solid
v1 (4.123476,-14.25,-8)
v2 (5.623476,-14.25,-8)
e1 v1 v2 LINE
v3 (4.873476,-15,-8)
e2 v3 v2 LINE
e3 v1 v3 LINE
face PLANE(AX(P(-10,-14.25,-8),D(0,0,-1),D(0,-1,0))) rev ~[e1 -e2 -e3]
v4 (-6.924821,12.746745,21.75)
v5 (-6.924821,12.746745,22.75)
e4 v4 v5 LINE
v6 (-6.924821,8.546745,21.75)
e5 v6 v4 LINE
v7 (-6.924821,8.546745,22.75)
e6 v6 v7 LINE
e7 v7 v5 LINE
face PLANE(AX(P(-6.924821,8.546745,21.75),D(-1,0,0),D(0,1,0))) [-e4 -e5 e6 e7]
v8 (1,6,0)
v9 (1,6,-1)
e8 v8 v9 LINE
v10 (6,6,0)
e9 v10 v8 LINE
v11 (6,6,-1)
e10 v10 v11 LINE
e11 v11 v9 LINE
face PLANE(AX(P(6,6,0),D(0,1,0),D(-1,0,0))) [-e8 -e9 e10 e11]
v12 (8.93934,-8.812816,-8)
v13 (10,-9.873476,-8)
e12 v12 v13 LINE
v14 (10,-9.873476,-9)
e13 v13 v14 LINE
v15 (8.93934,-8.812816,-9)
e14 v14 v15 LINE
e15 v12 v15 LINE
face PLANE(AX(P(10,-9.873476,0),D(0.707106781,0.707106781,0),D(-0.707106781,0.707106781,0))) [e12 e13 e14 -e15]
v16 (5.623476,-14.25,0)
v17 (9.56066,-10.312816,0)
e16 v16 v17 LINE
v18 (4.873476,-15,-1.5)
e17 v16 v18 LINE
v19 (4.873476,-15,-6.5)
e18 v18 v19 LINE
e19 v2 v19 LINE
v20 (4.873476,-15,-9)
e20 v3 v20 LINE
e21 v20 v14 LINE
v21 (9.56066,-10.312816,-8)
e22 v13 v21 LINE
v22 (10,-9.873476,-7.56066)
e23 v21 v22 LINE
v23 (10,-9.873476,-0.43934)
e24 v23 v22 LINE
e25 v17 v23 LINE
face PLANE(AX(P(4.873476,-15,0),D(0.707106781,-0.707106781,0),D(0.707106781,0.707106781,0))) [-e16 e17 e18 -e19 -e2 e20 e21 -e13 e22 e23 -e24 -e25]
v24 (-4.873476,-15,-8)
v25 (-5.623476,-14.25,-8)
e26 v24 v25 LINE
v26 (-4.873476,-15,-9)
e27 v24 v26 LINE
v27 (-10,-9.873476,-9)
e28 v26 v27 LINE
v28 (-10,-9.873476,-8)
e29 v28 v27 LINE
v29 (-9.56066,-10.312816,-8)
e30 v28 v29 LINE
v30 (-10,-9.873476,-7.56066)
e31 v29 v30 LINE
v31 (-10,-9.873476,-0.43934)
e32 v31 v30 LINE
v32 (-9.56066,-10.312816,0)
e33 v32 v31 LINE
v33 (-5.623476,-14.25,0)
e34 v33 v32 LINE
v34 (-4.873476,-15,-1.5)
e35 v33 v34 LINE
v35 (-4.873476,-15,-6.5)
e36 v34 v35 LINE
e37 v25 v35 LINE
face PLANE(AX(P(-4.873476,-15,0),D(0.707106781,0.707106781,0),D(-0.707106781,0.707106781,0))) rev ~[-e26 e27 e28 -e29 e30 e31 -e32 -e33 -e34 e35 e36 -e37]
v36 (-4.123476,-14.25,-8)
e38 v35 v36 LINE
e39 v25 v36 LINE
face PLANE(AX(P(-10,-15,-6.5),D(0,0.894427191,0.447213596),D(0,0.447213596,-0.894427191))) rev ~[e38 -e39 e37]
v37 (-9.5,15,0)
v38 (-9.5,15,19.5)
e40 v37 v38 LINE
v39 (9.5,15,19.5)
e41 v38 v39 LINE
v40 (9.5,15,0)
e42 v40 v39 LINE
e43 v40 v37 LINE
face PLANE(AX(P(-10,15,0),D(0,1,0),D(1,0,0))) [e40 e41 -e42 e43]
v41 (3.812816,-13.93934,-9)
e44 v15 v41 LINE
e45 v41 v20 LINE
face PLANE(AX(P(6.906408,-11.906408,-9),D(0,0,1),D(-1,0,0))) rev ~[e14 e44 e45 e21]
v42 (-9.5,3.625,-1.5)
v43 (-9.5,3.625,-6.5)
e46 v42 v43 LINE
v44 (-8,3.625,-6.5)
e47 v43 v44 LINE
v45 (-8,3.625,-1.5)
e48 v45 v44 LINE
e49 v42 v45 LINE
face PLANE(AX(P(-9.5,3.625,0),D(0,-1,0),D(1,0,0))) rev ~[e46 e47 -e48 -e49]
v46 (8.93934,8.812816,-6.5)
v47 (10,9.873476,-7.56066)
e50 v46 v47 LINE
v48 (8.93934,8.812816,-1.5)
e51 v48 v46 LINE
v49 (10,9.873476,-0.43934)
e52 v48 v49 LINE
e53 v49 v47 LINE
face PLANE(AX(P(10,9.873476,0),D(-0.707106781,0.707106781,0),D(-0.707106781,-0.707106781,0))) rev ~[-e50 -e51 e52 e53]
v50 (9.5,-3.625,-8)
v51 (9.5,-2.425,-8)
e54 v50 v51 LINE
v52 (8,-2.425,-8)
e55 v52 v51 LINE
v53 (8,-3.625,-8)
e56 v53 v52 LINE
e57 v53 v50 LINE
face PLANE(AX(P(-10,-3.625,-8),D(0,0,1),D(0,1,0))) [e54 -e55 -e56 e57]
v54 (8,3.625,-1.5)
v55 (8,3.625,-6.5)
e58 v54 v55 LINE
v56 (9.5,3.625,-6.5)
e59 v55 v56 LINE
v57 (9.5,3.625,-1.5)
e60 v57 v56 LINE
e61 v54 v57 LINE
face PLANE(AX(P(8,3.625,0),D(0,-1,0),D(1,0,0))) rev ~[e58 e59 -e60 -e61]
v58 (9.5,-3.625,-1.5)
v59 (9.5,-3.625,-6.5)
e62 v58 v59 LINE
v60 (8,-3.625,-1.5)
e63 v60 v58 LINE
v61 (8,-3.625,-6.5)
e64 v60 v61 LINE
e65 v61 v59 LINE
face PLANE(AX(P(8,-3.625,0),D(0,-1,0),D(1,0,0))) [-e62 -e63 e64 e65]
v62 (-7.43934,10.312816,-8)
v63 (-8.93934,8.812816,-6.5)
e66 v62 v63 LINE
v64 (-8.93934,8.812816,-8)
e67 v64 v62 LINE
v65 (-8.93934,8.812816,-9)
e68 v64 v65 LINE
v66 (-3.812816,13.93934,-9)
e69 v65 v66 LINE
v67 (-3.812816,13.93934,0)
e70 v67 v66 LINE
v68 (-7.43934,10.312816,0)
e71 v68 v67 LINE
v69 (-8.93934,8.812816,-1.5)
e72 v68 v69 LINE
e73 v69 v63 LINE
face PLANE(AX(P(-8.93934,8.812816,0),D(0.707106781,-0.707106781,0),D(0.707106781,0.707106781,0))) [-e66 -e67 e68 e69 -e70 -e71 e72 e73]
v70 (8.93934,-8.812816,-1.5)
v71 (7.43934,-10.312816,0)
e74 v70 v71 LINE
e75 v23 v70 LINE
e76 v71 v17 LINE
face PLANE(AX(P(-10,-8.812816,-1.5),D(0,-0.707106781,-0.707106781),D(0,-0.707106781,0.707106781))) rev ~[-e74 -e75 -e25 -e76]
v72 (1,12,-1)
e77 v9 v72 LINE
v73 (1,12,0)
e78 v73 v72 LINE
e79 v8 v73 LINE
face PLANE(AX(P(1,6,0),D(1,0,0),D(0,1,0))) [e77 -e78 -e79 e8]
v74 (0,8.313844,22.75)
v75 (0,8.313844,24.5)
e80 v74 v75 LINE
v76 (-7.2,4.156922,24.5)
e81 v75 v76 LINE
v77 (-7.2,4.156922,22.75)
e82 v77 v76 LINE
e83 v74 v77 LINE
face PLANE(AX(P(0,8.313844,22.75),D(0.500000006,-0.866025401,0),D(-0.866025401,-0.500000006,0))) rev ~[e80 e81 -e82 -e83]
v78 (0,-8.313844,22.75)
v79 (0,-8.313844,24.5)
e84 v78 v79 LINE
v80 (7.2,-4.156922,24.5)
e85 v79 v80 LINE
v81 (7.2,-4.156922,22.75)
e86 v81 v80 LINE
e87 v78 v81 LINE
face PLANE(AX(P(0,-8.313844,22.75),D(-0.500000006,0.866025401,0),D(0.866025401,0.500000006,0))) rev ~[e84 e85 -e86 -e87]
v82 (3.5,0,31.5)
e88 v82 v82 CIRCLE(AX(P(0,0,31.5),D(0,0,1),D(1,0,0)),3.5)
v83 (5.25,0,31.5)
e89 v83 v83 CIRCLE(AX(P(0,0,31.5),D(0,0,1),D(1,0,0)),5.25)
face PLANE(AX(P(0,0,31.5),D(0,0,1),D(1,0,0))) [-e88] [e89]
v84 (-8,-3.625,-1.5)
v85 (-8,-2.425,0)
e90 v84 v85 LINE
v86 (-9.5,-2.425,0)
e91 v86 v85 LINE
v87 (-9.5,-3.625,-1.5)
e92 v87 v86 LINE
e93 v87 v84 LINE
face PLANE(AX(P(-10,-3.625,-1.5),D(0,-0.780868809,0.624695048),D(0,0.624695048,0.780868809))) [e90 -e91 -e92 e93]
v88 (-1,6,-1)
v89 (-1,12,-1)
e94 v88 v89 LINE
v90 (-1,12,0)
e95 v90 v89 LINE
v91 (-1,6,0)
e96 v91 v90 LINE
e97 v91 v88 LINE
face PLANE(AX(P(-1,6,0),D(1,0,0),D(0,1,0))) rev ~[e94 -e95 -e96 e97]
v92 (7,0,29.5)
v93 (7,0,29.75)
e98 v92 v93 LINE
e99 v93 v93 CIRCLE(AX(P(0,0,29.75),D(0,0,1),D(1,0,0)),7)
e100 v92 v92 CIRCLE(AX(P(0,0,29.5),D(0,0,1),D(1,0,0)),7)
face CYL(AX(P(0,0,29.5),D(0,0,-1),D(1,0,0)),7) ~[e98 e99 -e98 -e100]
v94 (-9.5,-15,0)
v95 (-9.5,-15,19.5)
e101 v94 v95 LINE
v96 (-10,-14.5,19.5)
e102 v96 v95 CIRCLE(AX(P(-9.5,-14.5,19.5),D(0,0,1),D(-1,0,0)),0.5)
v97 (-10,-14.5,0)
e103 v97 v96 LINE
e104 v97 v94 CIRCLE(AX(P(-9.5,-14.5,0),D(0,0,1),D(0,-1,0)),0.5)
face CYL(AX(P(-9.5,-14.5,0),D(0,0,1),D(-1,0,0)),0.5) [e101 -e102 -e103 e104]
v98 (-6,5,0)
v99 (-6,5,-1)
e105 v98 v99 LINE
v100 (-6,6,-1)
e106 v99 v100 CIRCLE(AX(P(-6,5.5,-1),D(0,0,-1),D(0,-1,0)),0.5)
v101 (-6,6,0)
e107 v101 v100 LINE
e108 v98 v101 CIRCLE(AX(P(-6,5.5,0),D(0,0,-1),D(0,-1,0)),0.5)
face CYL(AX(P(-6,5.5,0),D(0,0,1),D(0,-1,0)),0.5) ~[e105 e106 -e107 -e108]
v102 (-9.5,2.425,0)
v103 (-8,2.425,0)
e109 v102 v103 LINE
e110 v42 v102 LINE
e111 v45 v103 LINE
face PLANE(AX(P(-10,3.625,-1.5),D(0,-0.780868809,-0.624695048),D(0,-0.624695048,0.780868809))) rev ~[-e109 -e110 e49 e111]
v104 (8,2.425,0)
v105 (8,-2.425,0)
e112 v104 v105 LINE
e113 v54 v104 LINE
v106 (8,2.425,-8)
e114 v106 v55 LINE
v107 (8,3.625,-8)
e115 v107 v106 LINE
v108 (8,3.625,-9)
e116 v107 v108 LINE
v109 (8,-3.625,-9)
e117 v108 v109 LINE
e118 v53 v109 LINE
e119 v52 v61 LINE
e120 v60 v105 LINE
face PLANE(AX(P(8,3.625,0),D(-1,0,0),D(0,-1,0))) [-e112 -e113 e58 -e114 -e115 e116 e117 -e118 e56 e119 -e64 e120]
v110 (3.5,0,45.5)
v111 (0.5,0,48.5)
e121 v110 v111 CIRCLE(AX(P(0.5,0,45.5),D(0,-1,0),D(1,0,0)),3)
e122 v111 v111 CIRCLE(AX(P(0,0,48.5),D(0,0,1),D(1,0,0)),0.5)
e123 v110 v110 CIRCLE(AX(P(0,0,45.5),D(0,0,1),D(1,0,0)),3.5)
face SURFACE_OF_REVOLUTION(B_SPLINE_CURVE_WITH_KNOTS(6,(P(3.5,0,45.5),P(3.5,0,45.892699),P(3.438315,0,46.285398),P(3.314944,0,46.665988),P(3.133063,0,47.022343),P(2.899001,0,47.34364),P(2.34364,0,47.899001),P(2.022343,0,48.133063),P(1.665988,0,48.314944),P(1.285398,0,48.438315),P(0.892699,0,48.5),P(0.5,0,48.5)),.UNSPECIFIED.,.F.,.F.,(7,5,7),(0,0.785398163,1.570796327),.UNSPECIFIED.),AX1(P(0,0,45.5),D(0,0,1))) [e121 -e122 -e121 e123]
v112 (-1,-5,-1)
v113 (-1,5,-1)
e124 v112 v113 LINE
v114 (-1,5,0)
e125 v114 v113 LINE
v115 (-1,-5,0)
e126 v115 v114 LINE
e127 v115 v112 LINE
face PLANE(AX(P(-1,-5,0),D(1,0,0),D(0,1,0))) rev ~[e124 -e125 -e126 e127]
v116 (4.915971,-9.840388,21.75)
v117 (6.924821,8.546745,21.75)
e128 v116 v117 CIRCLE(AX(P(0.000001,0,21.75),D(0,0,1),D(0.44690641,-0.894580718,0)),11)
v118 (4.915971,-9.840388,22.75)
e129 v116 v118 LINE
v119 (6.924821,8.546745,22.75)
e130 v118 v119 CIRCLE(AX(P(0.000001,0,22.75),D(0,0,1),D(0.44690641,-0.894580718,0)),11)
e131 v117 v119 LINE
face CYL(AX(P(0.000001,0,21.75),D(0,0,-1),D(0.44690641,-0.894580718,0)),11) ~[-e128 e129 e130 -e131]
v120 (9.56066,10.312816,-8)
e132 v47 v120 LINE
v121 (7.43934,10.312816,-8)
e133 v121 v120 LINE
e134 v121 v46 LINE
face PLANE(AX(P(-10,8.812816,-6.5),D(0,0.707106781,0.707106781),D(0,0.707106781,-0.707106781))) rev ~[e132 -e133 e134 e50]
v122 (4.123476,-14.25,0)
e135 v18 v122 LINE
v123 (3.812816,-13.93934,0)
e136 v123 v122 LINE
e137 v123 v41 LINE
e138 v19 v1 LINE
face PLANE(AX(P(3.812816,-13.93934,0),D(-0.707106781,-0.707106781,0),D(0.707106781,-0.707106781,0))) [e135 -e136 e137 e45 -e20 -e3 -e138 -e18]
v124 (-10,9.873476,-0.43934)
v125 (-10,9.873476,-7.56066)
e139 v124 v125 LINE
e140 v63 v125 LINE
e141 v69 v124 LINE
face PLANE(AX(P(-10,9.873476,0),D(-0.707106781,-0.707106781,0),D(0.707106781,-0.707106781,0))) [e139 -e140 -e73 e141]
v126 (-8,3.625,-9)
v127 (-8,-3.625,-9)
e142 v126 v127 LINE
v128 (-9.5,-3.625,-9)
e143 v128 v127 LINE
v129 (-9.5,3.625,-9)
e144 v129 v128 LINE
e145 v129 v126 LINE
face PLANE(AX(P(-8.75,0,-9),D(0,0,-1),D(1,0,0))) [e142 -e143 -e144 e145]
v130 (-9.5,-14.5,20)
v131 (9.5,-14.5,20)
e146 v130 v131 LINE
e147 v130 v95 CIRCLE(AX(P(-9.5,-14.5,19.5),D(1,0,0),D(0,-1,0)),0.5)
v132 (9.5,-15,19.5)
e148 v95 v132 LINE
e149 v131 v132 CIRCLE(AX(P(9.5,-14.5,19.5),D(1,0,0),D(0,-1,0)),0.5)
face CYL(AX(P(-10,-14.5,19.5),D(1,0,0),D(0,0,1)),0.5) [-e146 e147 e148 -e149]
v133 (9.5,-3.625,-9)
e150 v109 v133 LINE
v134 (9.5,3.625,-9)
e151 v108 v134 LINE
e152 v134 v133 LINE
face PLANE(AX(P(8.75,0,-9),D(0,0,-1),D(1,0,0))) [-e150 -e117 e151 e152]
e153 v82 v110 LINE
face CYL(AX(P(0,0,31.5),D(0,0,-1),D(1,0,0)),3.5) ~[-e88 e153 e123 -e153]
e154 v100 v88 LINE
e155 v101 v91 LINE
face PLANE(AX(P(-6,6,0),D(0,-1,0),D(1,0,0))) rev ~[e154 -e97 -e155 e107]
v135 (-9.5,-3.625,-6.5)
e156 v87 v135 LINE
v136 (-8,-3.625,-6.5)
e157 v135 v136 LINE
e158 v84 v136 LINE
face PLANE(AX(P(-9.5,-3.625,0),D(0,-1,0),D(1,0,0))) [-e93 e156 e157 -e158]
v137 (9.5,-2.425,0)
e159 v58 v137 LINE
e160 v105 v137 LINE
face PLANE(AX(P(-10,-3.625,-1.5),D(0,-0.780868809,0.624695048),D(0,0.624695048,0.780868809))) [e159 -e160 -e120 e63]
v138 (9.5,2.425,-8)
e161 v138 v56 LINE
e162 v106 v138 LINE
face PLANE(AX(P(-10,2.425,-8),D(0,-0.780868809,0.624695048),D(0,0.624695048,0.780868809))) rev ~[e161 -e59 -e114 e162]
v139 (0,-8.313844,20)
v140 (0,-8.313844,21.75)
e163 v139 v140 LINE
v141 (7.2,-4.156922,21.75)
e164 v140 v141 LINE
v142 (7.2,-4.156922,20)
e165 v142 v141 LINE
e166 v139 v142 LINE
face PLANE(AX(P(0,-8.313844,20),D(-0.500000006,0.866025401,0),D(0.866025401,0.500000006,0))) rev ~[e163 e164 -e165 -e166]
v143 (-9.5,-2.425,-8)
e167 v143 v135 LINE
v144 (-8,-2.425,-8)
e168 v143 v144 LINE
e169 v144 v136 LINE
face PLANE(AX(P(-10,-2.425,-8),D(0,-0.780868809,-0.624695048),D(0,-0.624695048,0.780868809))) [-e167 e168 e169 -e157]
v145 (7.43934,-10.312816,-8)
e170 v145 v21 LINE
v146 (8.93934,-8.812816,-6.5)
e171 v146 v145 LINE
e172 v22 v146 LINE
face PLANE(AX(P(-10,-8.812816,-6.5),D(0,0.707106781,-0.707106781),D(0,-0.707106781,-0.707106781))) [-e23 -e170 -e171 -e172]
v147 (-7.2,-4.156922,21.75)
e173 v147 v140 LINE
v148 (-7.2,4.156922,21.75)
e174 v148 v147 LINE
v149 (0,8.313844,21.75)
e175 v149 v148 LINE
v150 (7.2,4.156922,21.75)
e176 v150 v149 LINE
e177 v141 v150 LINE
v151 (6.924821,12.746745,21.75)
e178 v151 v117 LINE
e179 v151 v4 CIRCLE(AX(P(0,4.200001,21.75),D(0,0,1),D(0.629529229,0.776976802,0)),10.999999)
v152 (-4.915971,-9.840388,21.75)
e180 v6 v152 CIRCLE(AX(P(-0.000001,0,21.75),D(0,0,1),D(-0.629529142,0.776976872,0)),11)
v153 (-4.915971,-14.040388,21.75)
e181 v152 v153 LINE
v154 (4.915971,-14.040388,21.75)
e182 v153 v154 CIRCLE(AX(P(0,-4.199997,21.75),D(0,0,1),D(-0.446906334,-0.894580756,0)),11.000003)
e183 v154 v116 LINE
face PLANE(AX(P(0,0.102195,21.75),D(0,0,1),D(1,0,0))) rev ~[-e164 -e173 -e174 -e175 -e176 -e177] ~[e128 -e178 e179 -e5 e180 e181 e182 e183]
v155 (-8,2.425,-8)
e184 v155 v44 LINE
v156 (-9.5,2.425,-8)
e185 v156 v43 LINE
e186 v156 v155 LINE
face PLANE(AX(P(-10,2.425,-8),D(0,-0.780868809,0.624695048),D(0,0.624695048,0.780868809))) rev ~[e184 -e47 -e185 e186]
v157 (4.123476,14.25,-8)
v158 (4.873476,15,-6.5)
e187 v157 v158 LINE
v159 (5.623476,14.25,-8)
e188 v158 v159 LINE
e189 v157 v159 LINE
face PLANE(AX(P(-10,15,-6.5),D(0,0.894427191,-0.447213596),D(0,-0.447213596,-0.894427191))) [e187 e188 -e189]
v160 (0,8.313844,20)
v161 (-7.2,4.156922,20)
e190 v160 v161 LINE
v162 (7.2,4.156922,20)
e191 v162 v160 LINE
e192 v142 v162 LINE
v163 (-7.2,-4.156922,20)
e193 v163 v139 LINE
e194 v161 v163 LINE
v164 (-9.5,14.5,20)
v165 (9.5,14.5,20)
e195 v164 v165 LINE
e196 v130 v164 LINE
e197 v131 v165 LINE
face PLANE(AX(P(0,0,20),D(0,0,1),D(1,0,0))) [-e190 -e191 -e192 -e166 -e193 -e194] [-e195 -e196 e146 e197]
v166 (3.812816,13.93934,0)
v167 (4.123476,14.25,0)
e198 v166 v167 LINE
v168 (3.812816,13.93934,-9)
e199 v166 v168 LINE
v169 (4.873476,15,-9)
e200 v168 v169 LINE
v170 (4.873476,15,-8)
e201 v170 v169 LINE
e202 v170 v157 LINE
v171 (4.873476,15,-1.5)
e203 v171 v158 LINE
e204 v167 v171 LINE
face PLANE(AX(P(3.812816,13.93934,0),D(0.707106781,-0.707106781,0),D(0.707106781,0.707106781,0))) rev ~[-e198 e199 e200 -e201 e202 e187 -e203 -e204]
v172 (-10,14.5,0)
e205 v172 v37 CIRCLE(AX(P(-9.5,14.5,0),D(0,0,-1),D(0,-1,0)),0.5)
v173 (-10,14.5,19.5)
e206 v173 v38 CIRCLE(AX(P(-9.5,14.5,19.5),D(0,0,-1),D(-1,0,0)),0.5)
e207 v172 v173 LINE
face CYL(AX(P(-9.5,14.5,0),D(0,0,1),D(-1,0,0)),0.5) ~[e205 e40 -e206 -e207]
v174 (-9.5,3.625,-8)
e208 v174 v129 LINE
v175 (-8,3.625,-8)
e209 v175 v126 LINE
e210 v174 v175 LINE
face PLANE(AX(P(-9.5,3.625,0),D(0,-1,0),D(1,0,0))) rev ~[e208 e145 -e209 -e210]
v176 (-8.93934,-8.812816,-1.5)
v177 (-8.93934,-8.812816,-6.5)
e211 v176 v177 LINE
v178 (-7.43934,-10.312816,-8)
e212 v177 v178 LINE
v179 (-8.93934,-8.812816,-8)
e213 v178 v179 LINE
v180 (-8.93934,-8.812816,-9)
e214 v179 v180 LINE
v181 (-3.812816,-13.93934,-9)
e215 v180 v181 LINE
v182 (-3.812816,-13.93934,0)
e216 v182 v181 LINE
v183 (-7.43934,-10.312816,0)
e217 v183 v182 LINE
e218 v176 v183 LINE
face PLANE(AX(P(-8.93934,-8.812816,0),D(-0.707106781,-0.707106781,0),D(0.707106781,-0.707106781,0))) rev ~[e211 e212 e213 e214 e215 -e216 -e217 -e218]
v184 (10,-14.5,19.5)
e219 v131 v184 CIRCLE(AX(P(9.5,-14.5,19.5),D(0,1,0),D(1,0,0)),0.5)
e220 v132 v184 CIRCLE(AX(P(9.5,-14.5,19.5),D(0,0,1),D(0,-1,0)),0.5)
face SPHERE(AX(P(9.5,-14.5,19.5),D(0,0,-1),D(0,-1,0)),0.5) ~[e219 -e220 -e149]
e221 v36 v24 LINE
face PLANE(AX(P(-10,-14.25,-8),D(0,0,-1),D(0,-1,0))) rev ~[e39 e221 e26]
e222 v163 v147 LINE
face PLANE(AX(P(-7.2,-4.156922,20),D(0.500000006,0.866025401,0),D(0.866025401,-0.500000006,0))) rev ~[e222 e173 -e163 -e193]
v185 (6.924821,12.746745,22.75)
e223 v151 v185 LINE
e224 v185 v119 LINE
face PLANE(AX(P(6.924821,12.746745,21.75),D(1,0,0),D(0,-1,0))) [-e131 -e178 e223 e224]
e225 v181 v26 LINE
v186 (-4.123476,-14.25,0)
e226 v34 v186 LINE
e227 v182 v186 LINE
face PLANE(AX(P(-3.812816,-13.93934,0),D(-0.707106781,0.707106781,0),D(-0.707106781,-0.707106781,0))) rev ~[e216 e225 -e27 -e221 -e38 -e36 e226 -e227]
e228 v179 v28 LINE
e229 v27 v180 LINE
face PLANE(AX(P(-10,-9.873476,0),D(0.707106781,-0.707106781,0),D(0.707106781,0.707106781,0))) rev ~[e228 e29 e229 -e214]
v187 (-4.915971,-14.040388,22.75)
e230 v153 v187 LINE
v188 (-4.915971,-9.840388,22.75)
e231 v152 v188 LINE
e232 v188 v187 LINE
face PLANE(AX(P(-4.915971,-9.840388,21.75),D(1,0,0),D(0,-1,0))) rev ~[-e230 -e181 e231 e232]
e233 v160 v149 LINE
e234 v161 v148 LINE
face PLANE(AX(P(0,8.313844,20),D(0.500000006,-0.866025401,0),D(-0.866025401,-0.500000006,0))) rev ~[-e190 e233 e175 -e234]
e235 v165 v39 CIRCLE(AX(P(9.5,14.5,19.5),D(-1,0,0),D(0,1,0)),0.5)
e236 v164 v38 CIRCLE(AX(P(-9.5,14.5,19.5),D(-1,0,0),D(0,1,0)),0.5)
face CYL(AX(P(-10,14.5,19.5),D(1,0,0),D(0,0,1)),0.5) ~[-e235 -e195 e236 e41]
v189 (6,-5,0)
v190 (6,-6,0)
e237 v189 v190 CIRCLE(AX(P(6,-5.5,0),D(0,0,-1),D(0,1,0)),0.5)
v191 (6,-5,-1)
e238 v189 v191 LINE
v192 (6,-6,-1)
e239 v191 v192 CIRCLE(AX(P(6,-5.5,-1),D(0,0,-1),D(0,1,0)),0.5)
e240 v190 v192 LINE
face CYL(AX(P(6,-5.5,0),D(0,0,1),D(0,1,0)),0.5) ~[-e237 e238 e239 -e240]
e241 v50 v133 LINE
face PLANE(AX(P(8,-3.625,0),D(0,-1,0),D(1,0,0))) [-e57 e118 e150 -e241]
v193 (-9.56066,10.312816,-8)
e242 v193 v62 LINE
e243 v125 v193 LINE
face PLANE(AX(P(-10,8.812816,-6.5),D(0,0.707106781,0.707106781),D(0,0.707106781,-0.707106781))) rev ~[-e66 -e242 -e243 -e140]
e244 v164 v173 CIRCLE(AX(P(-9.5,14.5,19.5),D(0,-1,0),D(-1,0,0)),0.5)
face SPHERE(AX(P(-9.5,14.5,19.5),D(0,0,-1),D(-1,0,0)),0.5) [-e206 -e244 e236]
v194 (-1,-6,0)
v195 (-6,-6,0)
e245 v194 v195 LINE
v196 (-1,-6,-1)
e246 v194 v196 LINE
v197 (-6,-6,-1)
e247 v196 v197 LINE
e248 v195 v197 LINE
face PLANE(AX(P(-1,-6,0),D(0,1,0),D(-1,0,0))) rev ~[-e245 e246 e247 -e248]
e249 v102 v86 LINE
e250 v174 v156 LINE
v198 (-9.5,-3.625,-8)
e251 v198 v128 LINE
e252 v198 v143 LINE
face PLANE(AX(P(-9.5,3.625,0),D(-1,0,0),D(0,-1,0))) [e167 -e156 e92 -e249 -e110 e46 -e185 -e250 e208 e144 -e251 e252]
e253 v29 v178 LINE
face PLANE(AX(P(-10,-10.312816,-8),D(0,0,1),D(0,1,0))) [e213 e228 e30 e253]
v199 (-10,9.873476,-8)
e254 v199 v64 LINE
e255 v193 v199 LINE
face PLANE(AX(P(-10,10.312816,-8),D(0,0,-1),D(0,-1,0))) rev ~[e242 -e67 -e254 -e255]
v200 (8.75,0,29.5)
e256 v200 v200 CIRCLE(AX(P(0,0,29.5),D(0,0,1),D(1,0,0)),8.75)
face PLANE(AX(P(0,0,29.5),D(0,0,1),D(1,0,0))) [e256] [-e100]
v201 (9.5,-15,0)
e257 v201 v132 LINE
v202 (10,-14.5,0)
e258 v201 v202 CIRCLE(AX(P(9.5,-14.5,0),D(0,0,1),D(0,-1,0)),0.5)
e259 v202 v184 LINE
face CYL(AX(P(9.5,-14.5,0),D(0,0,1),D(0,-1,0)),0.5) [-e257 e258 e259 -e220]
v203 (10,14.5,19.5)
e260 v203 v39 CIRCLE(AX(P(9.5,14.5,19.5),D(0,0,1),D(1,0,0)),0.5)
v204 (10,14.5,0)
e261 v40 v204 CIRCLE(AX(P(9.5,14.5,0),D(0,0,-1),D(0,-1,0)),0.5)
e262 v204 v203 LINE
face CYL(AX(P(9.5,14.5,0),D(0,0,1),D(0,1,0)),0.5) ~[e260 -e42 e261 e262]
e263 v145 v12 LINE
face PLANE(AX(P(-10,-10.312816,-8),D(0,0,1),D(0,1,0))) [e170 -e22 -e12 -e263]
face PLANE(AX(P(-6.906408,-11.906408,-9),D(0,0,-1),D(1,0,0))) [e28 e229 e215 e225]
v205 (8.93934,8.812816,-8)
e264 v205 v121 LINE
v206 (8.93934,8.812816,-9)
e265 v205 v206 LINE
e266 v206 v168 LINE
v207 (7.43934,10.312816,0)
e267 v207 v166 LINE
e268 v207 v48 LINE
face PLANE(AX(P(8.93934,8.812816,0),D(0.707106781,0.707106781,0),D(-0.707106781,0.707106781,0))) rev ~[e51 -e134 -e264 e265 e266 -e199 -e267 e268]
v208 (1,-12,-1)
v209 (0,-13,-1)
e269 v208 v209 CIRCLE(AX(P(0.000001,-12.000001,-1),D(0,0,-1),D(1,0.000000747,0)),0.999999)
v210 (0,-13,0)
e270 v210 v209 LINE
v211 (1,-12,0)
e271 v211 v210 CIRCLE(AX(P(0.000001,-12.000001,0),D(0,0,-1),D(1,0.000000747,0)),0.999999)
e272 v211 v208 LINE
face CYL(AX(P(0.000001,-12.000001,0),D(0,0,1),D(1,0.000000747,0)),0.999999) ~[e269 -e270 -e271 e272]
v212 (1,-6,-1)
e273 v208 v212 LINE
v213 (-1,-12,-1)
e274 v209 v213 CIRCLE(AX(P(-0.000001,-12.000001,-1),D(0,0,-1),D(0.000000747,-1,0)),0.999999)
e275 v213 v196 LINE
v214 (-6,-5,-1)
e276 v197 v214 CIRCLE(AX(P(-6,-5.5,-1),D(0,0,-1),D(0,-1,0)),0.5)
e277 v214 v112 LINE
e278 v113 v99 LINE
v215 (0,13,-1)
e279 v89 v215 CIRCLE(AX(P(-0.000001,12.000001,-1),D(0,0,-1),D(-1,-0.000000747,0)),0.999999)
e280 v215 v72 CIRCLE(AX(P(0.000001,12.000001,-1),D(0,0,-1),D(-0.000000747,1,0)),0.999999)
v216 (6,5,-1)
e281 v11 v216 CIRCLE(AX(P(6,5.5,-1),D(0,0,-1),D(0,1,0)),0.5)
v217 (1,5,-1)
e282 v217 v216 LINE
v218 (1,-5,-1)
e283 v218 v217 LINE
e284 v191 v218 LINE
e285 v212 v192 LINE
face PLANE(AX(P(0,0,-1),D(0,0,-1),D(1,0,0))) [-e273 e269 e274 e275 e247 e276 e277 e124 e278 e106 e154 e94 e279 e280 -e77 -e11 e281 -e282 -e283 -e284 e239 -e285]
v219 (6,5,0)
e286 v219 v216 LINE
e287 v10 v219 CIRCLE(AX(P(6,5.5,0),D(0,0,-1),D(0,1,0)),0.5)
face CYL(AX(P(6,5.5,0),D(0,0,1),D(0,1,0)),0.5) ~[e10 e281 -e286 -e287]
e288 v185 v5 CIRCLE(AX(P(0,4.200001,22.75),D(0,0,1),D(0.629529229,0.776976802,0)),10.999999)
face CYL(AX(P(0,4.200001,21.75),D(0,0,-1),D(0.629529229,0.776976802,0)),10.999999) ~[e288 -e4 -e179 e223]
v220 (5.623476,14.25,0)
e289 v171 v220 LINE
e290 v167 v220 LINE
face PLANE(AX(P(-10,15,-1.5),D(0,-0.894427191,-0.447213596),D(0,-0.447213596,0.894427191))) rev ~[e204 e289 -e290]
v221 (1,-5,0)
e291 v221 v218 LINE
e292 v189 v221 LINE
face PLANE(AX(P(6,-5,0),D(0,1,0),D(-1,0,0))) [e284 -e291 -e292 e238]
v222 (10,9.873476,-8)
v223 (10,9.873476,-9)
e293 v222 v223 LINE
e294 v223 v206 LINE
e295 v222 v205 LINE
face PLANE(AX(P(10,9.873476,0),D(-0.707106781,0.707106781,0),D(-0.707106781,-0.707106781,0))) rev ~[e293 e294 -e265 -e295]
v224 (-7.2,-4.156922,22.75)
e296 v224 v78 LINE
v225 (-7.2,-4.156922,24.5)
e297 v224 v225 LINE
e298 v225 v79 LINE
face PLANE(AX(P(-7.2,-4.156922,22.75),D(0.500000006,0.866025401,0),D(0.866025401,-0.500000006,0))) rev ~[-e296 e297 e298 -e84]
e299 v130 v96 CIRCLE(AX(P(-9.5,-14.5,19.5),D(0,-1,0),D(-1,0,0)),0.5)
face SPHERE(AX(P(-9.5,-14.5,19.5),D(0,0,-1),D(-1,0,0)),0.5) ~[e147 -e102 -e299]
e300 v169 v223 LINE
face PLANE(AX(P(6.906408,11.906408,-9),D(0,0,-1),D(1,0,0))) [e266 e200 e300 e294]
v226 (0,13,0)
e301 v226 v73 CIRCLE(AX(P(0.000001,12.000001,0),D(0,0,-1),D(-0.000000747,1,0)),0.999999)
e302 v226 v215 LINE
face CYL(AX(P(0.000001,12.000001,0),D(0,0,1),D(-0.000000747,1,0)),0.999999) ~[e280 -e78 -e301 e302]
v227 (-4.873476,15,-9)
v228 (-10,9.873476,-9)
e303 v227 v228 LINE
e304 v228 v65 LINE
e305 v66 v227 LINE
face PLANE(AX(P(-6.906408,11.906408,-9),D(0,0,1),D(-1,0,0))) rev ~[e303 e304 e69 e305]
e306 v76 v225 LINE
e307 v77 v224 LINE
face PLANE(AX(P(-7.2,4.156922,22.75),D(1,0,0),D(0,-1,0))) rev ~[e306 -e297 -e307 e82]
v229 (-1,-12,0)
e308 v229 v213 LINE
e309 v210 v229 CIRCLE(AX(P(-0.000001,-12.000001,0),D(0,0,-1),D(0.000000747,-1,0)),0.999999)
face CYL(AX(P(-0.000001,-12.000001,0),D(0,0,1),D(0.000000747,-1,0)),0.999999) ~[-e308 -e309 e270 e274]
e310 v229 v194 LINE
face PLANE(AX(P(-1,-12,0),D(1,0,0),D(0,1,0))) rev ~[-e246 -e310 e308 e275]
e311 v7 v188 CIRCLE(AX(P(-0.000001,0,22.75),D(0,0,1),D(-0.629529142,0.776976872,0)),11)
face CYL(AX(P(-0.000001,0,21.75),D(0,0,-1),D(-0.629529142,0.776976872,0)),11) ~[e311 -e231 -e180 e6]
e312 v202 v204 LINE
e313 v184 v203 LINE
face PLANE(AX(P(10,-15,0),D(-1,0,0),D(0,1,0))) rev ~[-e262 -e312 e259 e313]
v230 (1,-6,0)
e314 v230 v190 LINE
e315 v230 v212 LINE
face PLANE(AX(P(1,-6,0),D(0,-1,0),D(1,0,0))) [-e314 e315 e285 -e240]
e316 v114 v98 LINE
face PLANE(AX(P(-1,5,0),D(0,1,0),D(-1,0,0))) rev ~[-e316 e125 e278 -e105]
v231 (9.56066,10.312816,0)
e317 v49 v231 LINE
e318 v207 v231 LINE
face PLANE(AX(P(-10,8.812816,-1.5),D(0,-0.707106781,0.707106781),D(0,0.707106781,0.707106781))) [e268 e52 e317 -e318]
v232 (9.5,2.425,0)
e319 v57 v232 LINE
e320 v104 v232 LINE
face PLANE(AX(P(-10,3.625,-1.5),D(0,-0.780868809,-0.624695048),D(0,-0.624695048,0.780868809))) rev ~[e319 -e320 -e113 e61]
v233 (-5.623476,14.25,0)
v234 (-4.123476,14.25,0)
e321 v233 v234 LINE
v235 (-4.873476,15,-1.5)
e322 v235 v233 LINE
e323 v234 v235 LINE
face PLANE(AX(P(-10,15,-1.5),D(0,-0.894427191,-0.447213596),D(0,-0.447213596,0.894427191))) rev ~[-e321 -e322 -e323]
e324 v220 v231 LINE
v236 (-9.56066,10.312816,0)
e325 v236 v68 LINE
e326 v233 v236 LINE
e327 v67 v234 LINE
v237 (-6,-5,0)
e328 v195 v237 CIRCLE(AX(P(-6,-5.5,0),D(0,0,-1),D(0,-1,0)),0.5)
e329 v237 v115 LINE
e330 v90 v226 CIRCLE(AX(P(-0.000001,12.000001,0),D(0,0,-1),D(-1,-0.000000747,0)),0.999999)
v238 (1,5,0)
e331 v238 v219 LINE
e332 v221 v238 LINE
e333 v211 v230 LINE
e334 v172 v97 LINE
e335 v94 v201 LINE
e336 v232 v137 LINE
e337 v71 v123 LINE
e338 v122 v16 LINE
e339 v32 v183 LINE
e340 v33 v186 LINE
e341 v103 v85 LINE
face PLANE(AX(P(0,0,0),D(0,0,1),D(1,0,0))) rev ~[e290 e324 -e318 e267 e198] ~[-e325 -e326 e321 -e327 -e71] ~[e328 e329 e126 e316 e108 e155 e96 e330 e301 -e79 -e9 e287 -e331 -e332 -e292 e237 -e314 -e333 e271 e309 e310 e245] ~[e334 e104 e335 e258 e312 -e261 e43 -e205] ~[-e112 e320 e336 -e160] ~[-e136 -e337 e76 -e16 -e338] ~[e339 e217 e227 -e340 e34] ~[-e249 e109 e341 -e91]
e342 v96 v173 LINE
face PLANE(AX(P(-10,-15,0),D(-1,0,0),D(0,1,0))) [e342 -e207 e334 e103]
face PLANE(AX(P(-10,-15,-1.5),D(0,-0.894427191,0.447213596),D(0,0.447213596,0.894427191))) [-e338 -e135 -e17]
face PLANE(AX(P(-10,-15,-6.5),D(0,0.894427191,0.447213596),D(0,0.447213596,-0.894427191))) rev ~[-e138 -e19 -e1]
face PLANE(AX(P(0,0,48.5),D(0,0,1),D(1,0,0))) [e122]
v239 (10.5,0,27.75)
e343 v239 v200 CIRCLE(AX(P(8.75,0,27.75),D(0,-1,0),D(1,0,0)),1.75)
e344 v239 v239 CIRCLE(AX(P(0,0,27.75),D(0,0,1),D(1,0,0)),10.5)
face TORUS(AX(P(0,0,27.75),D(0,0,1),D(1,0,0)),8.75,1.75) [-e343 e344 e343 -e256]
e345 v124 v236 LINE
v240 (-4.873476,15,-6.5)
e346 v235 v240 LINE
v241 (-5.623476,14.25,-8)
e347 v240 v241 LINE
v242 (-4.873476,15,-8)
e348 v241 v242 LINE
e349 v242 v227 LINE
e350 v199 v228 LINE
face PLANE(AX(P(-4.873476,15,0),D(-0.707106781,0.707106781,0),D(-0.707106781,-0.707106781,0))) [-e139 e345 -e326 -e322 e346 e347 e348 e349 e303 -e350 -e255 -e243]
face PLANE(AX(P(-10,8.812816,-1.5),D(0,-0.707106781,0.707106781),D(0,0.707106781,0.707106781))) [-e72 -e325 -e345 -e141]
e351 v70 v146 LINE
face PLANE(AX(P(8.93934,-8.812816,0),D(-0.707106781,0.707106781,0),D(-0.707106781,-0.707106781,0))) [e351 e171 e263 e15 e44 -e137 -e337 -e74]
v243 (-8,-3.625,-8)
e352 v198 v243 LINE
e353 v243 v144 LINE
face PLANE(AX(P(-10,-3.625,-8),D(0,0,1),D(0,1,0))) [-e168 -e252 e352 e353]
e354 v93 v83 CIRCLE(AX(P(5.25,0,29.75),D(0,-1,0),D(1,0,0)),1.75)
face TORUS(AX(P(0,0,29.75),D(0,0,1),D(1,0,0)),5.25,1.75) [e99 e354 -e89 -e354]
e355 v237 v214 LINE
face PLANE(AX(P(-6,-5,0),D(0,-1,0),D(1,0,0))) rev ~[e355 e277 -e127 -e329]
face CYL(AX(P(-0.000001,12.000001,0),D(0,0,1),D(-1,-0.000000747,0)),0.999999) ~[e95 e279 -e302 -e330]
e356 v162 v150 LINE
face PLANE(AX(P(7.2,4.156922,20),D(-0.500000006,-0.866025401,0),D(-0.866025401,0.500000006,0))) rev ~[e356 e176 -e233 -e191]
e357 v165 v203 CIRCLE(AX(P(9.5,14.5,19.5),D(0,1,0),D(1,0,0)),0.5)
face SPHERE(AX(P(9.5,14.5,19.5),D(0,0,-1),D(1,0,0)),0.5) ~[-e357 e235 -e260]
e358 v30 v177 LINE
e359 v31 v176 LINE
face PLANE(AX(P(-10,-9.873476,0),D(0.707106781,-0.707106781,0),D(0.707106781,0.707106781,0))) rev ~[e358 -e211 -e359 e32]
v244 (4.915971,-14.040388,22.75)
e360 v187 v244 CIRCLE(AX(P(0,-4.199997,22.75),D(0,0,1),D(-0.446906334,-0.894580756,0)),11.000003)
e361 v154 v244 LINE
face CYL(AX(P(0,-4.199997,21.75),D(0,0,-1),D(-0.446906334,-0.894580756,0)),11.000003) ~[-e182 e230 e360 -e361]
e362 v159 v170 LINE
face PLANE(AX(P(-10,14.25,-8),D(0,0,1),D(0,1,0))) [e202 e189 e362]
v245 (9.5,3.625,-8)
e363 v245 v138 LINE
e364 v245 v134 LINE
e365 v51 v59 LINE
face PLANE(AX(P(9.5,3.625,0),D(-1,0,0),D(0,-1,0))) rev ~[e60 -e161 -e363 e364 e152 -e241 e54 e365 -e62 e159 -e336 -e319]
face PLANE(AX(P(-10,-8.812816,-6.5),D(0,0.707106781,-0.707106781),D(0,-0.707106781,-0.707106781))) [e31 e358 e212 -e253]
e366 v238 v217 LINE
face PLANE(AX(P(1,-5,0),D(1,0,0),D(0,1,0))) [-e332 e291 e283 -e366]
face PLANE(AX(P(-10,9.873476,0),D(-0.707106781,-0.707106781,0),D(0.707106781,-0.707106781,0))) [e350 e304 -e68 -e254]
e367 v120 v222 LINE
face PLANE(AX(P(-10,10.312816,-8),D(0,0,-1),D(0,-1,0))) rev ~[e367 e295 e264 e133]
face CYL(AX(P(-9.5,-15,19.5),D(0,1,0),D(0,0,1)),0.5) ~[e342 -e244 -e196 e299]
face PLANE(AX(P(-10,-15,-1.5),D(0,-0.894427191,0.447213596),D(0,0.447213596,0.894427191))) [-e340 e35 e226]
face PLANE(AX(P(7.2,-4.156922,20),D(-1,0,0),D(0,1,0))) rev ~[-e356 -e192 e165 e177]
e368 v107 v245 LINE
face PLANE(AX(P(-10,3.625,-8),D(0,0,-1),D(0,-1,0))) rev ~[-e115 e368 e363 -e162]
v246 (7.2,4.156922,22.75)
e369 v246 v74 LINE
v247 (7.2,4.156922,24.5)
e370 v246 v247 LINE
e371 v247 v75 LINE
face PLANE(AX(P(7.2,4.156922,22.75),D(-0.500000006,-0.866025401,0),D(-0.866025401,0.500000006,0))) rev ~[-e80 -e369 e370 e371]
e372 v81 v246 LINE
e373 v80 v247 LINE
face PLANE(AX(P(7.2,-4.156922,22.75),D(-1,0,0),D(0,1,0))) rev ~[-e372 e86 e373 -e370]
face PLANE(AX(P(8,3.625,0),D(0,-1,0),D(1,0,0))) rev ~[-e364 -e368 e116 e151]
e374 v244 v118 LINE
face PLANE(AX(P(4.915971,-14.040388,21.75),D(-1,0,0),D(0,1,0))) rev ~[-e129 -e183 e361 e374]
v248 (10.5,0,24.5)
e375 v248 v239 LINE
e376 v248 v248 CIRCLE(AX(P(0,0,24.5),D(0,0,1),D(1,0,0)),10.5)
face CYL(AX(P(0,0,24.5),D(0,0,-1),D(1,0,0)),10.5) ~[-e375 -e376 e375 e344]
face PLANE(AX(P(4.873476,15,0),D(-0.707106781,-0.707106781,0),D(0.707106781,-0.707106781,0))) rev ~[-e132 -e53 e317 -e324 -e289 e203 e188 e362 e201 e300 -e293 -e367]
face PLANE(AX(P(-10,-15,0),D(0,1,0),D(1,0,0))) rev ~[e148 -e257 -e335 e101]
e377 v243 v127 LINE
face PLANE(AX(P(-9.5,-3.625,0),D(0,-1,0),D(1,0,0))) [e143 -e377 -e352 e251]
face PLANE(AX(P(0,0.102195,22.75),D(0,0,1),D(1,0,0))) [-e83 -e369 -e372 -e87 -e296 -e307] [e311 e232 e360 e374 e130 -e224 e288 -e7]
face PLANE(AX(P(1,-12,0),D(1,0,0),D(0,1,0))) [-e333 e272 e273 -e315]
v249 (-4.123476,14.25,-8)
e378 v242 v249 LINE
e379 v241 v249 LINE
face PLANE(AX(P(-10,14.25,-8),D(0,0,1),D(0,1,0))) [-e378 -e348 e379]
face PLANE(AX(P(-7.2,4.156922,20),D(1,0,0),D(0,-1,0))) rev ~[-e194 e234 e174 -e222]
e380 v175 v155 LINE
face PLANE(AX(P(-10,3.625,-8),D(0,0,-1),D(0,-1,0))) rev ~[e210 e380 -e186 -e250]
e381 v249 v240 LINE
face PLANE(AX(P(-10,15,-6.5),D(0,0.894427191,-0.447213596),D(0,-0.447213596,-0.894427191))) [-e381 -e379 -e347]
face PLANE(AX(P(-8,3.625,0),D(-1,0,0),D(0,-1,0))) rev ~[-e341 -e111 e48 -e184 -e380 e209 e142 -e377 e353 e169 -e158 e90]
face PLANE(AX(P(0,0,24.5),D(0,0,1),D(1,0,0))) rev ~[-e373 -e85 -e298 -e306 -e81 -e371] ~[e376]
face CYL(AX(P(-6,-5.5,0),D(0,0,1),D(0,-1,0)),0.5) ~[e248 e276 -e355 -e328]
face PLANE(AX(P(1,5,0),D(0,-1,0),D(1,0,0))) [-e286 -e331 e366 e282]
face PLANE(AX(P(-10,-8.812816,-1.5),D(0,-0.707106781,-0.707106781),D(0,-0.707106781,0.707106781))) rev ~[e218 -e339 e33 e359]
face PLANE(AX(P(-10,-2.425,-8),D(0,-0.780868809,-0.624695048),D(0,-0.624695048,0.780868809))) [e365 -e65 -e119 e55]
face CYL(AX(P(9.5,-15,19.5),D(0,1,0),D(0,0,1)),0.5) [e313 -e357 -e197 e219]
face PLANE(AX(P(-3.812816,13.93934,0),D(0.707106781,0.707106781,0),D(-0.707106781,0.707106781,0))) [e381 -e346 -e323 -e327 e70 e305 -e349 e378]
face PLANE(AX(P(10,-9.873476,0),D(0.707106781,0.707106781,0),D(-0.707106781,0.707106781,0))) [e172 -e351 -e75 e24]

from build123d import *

# Parameters (mm, degrees)
SKETCH_W     = 20
SKETCH_H     = 30
PAD_DEPTH    = 20
PAD001_DEPTH = 1.75
PAD002_DEPTH = 1
PAD003_DEPTH = 1.75
SKETCH004_R  = 10.5
PAD004_DEPTH = 5
SKETCH005_R  = 7
PAD005_DEPTH = 2
SKETCH006_R  = 3.5
PAD006_DEPTH = 17
FILLET_R     = 3
FILLET001_R  = 0.5
FILLET002_R  = 1.75
SKETCH007_W  = 1.5
SKETCH007_H  = 7.25
PAD007_DEPTH = 9
POCKET_DEPTH = 21.001
PAD008_DEPTH = 1


with BuildPart() as part:
    # Sketch → Pad (new body)
    with BuildSketch(Plane.XY):
        Rectangle(SKETCH_W, SKETCH_H)
    extrude(amount=PAD_DEPTH)

    # Sketch001 (on Face6 of Pad) → Pad001 (join)
    with BuildSketch(Plane.XY.offset(20)):
        Polygon((0, -8.313844), (7.2, -4.156922), (7.2, 4.156922), (0, 8.313844), (-7.2, 4.156922), (-7.2, -4.156922), align=None)
    extrude(amount=PAD001_DEPTH)

    # Sketch002 (on Face13 of Pad001) → Pad002 (join)
    with BuildSketch(Plane.XY.offset(21.75)):
        with BuildLine():
            ThreePointArc((6.924821, 12.746745), (0, 15.2), (-6.924821, 12.746745))
            Line((-6.924821, 8.546745), (-6.924821, 12.746745))
            ThreePointArc((-6.924821, 8.546745), (-10.934933, -1.194675), (-4.915971, -9.840388))
            Line((-4.915971, -9.840388), (-4.915971, -14.040388))
            ThreePointArc((-4.915971, -14.040388), (0, -15.2), (4.915971, -14.040388))
            Line((4.915971, -14.040388), (4.915971, -9.840388))
            ThreePointArc((4.915971, -9.840388), (10.934933, -1.194675), (6.924821, 8.546745))
            Line((6.924821, 12.746745), (6.924821, 8.546745))
        make_face()
    extrude(amount=PAD002_DEPTH)

    # Sketch003 (on Face22 of Pad002) → Pad003 (join)
    with BuildSketch(Plane.XY.offset(22.75)):
        Polygon((7.2, 4.156922), (0, 8.313844), (-7.2, 4.156922), (-7.2, -4.156922), (0, -8.313844), (7.2, -4.156922), align=None)
    extrude(amount=PAD003_DEPTH)

    # Sketch004 (on Face29 of Pad003) → Pad004 (join)
    with BuildSketch(Plane.XY.offset(24.5)):
        Circle(SKETCH004_R)
    extrude(amount=PAD004_DEPTH)

    # Sketch005 (on Face31 of Pad004) → Pad005 (join)
    with BuildSketch(Plane.XY.offset(29.5)):
        Circle(SKETCH005_R)
    extrude(amount=PAD005_DEPTH)

    # Sketch006 (on Face33 of Pad005) → Pad006 (join)
    with BuildSketch(Plane.XY.offset(31.5)):
        Circle(SKETCH006_R)
    extrude(amount=PAD006_DEPTH)

    # Fillet
    fillet_edges = [part.edges().sort_by_distance(p)[0] for p in [
        (-3.5, 0, 48.5),
    ]]
    fillet(fillet_edges, radius=FILLET_R)

    # Fillet001
    fillet001_edges = [part.edges().sort_by_distance(p)[0] for p in [
        (10, 15, 10),
        (10, -15, 10),
        (-10, -15, 10),
        (-10, 15, 10),
        (-10, 0, 20),
        (0, -15, 20),
        (10, 0, 20),
        (0, 15, 20),
    ]]
    fillet(fillet001_edges, radius=FILLET001_R)

    # Fillet002
    fillet002_edges = [part.edges().sort_by_distance(p)[0] for p in [
        (-10.5, 0, 29.5),
        (-7, 0, 31.5),
    ]]
    fillet(fillet002_edges, radius=FILLET002_R)

    # Sketch007 (on Face47 of Fillet002) → Pad007 (join)
    with BuildSketch(Plane(origin=(0, 0, 0), x_dir=(1, 0, 0), z_dir=(0, 0, -1))):
        Polygon((4.873476, 15), (10, 9.873476), (8.93934, 8.812816), (3.812816, 13.93934), align=None)
        with Locations((8.75, 0)):
            Rectangle(SKETCH007_W, SKETCH007_H)
        Polygon((-4.873476, 15), (-10, 9.873476), (-8.93934, 8.812816), (-3.812816, 13.93934), align=None)
        with Locations((-8.75, 0)):
            Rectangle(SKETCH007_W, SKETCH007_H)
        Polygon((4.873476, -15), (10, -9.873476), (8.93934, -8.812816), (3.812816, -13.93934), align=None)
        Polygon((-4.873476, -15), (-10, -9.873476), (-8.93934, -8.812816), (-3.812816, -13.93934), align=None)
    extrude(amount=PAD007_DEPTH)

    # Sketch008 (on Face39 of Pad007) → Pocket (cut, through all)
    with BuildSketch(Plane(origin=(-10, 0, 0), x_dir=(0, -1, 0), z_dir=(-1, 0, 0))):
        Polygon((-15, 0), (-15, -1.5), (-14.25, 0), align=None)
        Polygon((-8.812816, 0), (-8.812816, -1.5), (-10.312816, 0), align=None)
        Polygon((-15, -6.5), (-14.25, -8), (-15, -8), align=None)
        Polygon((-8.812816, -8), (-8.812816, -6.5), (-10.312816, -8), align=None)
        Polygon((15, 0), (15, -1.5), (14.25, 0), align=None)
        Polygon((8.812816, 0), (8.812816, -1.5), (10.312816, 0), align=None)
        Polygon((15, -6.5), (14.25, -8), (15, -8), align=None)
        Polygon((8.812816, -8), (8.812816, -6.5), (10.312816, -8), align=None)
        Polygon((-3.625, 0), (-3.625, -1.5), (-2.425, 0), align=None)
        Polygon((-3.625, -6.5), (-3.625, -8), (-2.425, -8), align=None)
        Polygon((3.625, 0), (3.625, -1.5), (2.425, 0), align=None)
        Polygon((3.625, -6.5), (3.625, -8), (2.425, -8), align=None)
    extrude(amount=-POCKET_DEPTH, mode=Mode.SUBTRACT)

    # Sketch009 (on Face50 of Pocket) → Pad008 (join)
    with BuildSketch(Plane(origin=(0, 0, 0), x_dir=(1, 0, 0), z_dir=(0, 0, -1))):
        with BuildLine():
            Line((-1, 12), (-1, 6))
            Line((-1, 6), (-6, 6))
            ThreePointArc((-6, 6), (-6.5, 5.5), (-6, 5))
            Line((-6, 5), (-1, 5))
            Line((-1, 5), (-1, -5))
            Line((-1, -5), (-6, -5))
            ThreePointArc((-6, -5), (-6.5, -5.5), (-6, -6))
            Line((-6, -6), (-1, -6))
            Line((-1, -6), (-1, -12))
            ThreePointArc((-1, -12), (-0.707107, -12.707107), (0, -13))
            ThreePointArc((0, -13), (0.707107, -12.707107), (1, -12))
            Line((1, -6), (1, -12))
            Line((6, -6), (1, -6))
            ThreePointArc((6, -6), (6.5, -5.5), (6, -5))
            Line((1, -5), (6, -5))
            Line((1, 5), (1, -5))
            Line((6, 5), (1, 5))
            ThreePointArc((6, 5), (6.5, 5.5), (6, 6))
            Line((1, 6), (6, 6))
            Line((1, 12), (1, 6))
            ThreePointArc((1, 12), (0.707107, 12.707107), (0, 13))
            ThreePointArc((0, 13), (-0.707107, 12.707107), (-1, 12))
        make_face()
    extrude(amount=PAD008_DEPTH)


solid = part.part
